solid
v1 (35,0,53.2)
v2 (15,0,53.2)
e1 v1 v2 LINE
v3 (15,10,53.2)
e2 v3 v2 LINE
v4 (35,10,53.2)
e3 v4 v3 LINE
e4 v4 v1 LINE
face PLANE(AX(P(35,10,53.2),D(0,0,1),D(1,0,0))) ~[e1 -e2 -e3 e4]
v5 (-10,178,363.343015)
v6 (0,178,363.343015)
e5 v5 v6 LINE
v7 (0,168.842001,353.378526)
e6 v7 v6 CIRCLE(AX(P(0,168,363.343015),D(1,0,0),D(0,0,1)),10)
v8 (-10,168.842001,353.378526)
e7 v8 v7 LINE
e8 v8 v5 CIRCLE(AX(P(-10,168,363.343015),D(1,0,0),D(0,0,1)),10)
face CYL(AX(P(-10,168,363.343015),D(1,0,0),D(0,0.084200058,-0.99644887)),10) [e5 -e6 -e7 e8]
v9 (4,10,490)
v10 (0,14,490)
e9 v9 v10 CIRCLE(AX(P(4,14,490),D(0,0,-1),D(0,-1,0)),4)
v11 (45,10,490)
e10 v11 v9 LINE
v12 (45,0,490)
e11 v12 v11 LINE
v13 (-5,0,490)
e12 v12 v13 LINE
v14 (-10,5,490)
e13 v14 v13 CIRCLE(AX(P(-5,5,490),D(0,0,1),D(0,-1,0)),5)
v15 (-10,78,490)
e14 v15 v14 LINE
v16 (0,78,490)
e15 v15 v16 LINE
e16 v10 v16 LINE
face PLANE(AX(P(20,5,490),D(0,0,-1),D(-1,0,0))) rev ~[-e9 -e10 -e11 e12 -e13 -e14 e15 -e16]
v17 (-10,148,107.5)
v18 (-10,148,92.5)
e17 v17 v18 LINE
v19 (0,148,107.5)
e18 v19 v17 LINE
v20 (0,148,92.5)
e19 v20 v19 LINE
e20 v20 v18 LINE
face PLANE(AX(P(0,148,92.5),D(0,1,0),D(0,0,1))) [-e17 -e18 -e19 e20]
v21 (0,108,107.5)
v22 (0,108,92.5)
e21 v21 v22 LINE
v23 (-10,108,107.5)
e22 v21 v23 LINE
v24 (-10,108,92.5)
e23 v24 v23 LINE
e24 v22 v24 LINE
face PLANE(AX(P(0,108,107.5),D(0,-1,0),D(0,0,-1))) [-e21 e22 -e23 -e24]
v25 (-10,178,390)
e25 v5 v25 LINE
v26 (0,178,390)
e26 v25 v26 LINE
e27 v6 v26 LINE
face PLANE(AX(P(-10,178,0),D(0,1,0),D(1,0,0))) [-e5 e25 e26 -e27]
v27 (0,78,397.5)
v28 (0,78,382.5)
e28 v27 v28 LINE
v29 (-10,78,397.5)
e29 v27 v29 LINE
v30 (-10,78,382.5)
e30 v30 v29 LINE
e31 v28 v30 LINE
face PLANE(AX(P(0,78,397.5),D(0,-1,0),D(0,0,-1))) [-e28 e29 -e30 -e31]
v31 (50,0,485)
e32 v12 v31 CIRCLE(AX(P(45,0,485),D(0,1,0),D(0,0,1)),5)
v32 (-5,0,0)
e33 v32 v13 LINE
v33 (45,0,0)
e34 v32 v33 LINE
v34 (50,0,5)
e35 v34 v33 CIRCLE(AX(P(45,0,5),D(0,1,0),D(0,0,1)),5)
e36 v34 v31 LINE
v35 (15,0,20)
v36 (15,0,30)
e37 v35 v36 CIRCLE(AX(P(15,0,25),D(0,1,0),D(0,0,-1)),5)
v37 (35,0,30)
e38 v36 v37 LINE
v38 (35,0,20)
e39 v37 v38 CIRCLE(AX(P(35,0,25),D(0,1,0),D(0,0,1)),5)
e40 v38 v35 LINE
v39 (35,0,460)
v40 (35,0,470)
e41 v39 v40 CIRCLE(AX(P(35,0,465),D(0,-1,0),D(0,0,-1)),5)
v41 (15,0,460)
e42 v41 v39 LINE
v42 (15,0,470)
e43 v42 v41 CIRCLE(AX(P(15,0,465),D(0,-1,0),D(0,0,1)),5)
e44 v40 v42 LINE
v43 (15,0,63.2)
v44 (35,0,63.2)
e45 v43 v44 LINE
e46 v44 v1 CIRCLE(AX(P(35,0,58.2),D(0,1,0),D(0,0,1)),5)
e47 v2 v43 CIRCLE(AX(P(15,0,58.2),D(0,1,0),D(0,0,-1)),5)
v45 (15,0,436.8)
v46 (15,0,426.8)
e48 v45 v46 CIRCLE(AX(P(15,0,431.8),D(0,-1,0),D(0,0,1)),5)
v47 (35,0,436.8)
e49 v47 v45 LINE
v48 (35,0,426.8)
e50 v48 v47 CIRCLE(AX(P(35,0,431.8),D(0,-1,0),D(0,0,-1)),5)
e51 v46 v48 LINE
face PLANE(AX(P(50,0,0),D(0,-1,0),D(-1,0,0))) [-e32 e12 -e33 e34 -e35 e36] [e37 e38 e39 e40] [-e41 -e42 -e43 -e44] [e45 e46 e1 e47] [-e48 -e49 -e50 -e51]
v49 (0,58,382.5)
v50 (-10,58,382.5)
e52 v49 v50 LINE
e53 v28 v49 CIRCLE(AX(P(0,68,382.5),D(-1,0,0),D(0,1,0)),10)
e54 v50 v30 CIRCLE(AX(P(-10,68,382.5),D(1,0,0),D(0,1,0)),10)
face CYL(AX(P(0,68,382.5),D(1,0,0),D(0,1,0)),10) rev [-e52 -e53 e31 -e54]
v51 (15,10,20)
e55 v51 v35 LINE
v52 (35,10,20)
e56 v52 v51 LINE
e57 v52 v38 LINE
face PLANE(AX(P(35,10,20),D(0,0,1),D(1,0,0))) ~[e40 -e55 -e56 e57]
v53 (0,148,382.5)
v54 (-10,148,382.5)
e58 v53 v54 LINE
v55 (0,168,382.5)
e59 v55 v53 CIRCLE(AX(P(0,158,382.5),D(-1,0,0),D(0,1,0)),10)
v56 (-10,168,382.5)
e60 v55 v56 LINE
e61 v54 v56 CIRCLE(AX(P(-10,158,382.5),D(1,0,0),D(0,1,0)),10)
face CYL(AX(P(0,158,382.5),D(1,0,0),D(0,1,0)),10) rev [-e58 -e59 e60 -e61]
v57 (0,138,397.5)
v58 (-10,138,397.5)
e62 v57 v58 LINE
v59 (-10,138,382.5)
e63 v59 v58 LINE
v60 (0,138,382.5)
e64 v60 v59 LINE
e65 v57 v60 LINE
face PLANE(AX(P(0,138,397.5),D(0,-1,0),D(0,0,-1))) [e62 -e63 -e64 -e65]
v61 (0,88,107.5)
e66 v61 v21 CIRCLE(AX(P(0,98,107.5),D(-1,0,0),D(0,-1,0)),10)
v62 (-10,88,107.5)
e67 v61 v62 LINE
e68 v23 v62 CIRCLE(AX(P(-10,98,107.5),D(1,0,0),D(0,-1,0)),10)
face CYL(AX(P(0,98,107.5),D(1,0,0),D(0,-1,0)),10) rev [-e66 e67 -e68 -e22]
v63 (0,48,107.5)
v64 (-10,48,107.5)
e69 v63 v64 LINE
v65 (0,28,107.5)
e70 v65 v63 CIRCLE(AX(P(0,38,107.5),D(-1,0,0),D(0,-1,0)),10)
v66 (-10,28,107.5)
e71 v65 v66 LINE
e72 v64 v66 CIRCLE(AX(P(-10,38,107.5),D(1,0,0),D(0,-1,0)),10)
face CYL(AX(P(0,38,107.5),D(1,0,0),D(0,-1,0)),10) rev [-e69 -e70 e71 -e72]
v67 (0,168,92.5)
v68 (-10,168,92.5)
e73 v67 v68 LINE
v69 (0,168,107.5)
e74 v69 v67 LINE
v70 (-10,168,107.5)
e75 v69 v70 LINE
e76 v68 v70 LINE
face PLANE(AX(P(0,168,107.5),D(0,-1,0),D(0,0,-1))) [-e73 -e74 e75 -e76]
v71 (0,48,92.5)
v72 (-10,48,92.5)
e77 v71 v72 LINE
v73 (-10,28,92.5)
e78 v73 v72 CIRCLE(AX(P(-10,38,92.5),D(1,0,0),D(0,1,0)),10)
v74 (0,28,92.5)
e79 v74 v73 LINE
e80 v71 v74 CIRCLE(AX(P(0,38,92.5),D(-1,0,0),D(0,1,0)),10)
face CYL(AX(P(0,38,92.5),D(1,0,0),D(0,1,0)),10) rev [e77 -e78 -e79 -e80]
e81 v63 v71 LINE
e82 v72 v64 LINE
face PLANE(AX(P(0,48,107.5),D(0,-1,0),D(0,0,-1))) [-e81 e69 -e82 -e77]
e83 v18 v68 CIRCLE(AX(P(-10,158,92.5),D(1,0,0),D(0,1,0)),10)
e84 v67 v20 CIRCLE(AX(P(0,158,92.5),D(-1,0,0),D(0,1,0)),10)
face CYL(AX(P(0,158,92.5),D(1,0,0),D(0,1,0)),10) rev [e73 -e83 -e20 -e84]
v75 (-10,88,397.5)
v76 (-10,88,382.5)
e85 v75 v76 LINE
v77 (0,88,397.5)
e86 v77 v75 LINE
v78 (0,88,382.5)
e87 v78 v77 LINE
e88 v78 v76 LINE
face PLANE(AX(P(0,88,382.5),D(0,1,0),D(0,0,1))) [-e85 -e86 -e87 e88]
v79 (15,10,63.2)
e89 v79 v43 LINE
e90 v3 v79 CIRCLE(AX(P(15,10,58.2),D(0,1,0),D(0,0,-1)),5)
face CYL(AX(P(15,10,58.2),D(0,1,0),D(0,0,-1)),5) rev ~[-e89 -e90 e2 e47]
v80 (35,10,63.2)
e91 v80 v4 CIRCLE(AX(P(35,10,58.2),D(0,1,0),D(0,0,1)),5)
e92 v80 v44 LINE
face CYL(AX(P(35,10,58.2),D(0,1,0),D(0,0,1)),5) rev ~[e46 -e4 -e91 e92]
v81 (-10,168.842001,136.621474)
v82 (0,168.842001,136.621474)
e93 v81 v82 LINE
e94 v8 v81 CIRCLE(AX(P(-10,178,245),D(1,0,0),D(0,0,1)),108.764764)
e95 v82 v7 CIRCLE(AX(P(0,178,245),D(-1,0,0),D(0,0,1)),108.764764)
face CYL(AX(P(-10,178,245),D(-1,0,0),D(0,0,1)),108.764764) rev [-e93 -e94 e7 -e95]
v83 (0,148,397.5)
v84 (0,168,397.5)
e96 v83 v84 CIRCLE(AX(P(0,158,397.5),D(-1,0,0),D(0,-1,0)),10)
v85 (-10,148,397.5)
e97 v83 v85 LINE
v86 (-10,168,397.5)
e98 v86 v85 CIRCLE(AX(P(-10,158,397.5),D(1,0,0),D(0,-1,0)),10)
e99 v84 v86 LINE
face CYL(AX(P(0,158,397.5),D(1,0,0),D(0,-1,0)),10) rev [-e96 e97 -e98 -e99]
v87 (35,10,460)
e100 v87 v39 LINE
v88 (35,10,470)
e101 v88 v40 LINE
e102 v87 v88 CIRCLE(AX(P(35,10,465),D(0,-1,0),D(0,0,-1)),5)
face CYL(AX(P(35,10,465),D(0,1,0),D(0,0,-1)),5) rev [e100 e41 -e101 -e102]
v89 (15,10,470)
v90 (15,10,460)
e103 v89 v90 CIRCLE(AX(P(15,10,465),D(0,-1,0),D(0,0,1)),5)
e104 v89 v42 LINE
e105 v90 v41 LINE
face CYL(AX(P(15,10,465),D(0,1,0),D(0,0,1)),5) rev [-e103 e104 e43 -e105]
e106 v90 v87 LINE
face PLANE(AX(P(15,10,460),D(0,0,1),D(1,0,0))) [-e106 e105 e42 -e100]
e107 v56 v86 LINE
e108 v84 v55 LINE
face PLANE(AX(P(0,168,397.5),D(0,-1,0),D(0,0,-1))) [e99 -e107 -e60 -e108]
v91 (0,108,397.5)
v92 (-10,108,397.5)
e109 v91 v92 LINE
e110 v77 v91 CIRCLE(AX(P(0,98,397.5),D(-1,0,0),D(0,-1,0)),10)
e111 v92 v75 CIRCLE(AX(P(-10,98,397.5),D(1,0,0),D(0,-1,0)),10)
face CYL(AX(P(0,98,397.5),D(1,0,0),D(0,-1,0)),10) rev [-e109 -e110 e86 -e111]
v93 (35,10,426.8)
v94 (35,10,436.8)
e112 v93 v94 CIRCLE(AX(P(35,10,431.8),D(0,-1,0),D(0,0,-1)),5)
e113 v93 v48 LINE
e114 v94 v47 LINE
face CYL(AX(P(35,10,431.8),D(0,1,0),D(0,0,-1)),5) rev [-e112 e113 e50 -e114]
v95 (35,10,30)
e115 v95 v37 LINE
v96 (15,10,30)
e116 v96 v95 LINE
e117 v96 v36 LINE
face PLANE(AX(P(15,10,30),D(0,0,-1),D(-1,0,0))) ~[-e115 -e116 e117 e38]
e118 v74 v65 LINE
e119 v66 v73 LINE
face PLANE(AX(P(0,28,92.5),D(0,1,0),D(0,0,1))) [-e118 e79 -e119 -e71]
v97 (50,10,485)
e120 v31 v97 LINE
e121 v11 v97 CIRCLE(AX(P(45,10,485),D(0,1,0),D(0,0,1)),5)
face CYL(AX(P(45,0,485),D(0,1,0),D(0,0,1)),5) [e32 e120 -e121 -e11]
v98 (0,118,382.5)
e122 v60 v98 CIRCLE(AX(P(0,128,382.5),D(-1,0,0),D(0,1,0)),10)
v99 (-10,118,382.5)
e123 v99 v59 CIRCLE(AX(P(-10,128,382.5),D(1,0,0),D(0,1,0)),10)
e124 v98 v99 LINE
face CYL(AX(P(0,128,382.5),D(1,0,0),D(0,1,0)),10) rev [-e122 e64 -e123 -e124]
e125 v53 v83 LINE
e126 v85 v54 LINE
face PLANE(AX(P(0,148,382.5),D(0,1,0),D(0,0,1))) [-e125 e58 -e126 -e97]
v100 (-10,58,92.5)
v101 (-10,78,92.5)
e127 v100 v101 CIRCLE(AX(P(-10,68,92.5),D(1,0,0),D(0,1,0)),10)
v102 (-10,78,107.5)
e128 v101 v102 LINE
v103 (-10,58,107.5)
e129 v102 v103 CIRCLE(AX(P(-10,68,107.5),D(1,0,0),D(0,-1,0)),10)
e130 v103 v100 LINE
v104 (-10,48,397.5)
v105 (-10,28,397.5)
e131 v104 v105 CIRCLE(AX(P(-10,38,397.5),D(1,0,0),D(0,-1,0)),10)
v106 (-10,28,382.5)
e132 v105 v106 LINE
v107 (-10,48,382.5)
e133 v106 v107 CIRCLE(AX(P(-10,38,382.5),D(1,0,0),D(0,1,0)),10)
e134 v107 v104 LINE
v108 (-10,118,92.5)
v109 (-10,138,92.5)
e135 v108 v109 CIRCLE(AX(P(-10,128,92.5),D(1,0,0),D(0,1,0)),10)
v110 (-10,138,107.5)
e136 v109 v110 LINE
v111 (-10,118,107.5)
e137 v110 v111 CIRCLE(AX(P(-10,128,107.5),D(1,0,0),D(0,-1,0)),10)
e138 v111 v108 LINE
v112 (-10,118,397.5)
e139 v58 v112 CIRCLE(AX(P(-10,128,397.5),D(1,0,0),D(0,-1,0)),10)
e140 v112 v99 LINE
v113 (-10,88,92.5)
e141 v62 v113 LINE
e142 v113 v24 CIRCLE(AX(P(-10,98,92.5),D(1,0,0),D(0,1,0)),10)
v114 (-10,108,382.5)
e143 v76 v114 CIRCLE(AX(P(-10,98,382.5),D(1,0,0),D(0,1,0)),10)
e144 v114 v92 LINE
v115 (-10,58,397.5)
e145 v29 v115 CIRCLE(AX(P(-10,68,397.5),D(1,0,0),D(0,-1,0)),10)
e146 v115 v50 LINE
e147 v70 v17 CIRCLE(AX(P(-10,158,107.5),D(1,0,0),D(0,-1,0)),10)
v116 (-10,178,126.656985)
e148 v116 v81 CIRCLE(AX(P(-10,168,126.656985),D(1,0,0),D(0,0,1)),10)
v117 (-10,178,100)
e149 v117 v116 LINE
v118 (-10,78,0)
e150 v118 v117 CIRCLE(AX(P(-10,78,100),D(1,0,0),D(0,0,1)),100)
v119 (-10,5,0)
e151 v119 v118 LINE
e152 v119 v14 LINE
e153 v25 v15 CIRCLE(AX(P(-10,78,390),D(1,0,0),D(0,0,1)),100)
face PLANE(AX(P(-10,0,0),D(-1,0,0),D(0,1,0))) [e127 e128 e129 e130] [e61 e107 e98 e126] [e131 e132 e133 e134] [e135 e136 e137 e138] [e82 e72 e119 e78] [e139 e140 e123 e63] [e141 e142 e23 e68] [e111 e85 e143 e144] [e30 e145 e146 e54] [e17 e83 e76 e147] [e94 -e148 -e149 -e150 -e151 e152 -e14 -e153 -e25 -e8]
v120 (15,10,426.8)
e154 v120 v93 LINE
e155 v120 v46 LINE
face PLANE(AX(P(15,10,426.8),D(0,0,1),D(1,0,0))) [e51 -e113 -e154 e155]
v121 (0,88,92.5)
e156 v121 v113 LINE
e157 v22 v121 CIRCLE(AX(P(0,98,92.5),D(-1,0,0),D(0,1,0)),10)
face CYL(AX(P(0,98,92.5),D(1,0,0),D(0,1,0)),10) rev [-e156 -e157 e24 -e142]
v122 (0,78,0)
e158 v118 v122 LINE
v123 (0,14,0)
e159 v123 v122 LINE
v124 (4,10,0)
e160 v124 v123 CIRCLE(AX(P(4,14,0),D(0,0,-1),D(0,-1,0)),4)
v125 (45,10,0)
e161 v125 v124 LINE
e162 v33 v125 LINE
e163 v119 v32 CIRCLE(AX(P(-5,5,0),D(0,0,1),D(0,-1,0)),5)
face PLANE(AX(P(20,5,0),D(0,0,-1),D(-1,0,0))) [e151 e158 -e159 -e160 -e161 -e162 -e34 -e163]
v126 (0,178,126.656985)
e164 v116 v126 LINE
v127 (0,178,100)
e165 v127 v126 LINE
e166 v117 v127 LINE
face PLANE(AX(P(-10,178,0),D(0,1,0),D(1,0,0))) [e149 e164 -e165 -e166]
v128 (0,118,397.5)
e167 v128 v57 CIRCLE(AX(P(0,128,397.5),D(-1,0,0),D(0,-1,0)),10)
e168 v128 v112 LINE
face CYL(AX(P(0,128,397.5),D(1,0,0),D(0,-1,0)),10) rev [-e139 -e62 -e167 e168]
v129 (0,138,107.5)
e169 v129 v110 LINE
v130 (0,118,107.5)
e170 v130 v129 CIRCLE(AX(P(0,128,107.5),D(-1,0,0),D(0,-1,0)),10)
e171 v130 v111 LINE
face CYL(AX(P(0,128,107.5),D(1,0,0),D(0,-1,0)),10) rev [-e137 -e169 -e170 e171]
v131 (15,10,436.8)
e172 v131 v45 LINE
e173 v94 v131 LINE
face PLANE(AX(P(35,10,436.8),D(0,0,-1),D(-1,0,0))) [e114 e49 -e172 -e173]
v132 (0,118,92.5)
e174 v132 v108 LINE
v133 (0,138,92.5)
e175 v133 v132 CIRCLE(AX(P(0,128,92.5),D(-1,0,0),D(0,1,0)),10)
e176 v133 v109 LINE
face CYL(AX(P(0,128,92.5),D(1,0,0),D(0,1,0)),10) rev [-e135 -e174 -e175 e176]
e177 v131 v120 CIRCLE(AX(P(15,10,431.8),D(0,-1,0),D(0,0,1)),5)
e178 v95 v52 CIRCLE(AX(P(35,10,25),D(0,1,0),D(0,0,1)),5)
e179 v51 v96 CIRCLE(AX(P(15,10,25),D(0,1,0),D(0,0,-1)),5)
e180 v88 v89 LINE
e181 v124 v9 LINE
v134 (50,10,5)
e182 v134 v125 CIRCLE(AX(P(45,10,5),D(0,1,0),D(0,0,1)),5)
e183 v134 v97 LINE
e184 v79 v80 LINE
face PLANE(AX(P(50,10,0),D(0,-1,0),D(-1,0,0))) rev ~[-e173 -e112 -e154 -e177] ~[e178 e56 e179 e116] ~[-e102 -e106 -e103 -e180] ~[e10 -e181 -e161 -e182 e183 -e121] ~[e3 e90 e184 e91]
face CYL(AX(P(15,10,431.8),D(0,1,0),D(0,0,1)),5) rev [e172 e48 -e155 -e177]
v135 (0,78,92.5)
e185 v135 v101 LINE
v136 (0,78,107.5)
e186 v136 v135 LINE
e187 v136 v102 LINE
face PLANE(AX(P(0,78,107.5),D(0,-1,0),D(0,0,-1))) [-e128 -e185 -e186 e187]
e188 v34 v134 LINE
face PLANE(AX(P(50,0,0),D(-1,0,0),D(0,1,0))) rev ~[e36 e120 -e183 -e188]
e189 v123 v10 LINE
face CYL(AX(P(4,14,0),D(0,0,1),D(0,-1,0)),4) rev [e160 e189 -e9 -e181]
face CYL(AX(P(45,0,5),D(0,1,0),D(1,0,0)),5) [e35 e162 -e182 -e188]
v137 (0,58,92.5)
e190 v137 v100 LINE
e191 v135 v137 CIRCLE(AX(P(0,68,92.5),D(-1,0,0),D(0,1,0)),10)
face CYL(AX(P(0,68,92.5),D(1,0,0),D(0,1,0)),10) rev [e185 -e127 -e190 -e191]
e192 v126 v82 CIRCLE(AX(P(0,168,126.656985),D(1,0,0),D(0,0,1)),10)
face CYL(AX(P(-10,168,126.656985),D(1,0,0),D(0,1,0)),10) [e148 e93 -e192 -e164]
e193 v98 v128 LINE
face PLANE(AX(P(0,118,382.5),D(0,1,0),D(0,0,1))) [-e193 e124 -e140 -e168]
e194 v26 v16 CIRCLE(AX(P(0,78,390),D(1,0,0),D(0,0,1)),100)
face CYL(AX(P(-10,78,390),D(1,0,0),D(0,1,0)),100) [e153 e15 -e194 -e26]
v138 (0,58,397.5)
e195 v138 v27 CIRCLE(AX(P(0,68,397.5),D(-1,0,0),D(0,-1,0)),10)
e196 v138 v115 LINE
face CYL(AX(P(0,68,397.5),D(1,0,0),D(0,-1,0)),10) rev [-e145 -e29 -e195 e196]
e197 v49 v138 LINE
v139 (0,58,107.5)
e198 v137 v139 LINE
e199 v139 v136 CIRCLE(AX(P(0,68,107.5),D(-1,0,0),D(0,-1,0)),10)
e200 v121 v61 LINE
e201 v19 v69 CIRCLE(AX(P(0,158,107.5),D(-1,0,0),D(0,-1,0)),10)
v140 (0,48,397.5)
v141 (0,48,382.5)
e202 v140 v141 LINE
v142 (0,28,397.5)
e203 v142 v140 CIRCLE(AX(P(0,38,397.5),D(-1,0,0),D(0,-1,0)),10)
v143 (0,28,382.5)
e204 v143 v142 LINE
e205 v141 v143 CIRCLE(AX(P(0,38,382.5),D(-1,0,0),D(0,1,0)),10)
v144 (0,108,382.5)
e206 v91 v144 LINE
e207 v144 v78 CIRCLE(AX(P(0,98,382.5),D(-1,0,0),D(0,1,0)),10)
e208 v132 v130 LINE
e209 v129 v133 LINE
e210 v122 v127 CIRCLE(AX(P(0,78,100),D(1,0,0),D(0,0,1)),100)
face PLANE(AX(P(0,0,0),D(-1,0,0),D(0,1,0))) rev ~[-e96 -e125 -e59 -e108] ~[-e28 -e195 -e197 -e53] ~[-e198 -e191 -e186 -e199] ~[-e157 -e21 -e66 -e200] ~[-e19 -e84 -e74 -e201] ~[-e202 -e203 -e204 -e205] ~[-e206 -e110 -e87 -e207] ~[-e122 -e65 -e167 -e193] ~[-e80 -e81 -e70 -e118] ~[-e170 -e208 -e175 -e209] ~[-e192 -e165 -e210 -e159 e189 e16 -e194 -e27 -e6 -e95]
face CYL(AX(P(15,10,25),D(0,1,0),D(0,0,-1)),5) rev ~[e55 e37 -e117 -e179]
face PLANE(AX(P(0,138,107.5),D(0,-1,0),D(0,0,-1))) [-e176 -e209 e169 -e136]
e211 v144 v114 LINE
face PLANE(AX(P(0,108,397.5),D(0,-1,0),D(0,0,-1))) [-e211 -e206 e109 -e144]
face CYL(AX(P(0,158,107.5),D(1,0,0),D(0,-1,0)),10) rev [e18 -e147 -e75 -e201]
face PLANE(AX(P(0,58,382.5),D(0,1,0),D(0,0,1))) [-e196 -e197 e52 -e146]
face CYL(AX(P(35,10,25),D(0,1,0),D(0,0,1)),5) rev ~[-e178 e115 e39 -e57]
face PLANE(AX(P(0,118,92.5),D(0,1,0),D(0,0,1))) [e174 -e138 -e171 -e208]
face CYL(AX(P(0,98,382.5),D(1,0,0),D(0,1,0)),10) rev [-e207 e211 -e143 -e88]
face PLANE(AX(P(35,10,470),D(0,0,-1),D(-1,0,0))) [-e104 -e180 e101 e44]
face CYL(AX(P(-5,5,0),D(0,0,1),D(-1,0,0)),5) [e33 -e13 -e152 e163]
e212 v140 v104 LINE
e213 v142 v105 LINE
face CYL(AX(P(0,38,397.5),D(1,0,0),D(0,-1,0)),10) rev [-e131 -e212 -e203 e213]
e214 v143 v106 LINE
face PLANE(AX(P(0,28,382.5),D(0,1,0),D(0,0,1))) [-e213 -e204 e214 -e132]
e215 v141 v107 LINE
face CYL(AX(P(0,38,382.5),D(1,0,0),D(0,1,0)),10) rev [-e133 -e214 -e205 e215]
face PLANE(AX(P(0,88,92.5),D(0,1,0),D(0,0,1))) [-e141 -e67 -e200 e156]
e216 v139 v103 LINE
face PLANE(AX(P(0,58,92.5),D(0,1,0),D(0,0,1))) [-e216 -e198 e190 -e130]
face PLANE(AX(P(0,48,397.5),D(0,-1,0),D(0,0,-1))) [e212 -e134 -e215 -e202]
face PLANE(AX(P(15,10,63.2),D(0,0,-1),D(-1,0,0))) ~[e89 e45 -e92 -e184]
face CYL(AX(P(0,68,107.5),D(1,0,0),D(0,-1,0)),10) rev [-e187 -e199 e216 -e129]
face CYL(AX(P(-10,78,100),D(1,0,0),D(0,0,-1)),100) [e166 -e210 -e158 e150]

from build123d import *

# Parameters (mm, degrees)
SZKIC1_W                    = 10
SZKIC1_H                    = 178
DODANIE_WYCI_GNI_CIE1_DEPTH = 490
WYTNIJ_WYCI_GNI_CIE1_DEPTH  = 522.424970633
WYTNIJ_WYCI_GNI_CIE2_DEPTH  = 522.424970633
ZAOKR_GLENIE1_R             = 100
ZAOKR_GLENIE2_R             = 100
WYTNIJ_WYCI_GNI_CIE3_DEPTH  = 522.424970633
ZAOKR_GLENIE3_R             = 10
SZKIC6_W                    = 60
SZKIC6_H                    = 10
DODANIE_WYCI_GNI_CIE2_DEPTH = 490
ZAOKR_GLENIE4_R             = 5
ZAOKR_GLENIE5_R             = 4
ZAOKR_GLENIE6_R             = 5
WYTNIJ_WYCI_GNI_CIE4_DEPTH  = 10
WYTNIJ_WYCI_GNI_CIE5_DEPTH  = 10


with BuildPart() as part:
    # Szkic1 → Dodanie-wyciągnięcie1 (new body)
    with BuildSketch(Plane.XY):
        with Locations((-5, 89)):
            Rectangle(SZKIC1_W, SZKIC1_H)
    extrude(amount=DODANIE_WYCI_GNI_CIE1_DEPTH)

    # Szkic2 → Wytnij-wyciągnięcie1 (cut, through all)
    with BuildSketch(Plane(origin=(0, 0, 0), x_dir=(0, 0, -1), z_dir=(1, 0, 0))):
        with BuildLine():
            Line((-107.5, 168), (-92.5, 168))
            ThreePointArc((-92.5, 168), (-82.5, 158), (-92.5, 148))
            Line((-92.5, 148), (-107.5, 148))
            ThreePointArc((-107.5, 148), (-117.5, 158), (-107.5, 168))
        make_face()
        with BuildLine():
            Line((-107.5, 138), (-92.5, 138))
            ThreePointArc((-92.5, 138), (-82.5, 128), (-92.5, 118))
            Line((-92.5, 118), (-107.5, 118))
            ThreePointArc((-107.5, 118), (-117.5, 128), (-107.5, 138))
        make_face()
        with BuildLine():
            Line((-107.5, 108), (-92.5, 108))
            ThreePointArc((-92.5, 108), (-82.5, 98), (-92.5, 88))
            Line((-92.5, 88), (-107.5, 88))
            ThreePointArc((-107.5, 88), (-117.5, 98), (-107.5, 108))
        make_face()
        with BuildLine():
            Line((-107.5, 78), (-92.5, 78))
            ThreePointArc((-92.5, 78), (-82.5, 68), (-92.5, 58))
            Line((-92.5, 58), (-107.5, 58))
            ThreePointArc((-107.5, 58), (-117.5, 68), (-107.5, 78))
        make_face()
        with BuildLine():
            Line((-107.5, 48), (-92.5, 48))
            ThreePointArc((-92.5, 48), (-82.5, 38), (-92.5, 28))
            Line((-92.5, 28), (-107.5, 28))
            ThreePointArc((-107.5, 28), (-117.5, 38), (-107.5, 48))
        make_face()
    extrude(amount=-WYTNIJ_WYCI_GNI_CIE1_DEPTH, mode=Mode.SUBTRACT)

    # Szkic3 → Wytnij-wyciągnięcie2 (cut, through all)
    with BuildSketch(Plane(origin=(0, 0, 0), x_dir=(0, 0, -1), z_dir=(1, 0, 0))):
        with BuildLine():
            Line((-397.5, 168), (-382.5, 168))
            ThreePointArc((-382.5, 168), (-372.5, 158), (-382.5, 148))
            Line((-382.5, 148), (-397.5, 148))
            ThreePointArc((-397.5, 148), (-407.5, 158), (-397.5, 168))
        make_face()
        with BuildLine():
            Line((-397.5, 138), (-382.5, 138))
            ThreePointArc((-382.5, 138), (-372.5, 128), (-382.5, 118))
            Line((-382.5, 118), (-397.5, 118))
            ThreePointArc((-397.5, 118), (-407.5, 128), (-397.5, 138))
        make_face()
        with BuildLine():
            Line((-397.5, 108), (-382.5, 108))
            ThreePointArc((-382.5, 108), (-372.5, 98), (-382.5, 88))
            Line((-382.5, 88), (-397.5, 88))
            ThreePointArc((-397.5, 88), (-407.5, 98), (-397.5, 108))
        make_face()
        with BuildLine():
            Line((-397.5, 78), (-382.5, 78))
            ThreePointArc((-382.5, 78), (-372.5, 68), (-382.5, 58))
            Line((-382.5, 58), (-397.5, 58))
            ThreePointArc((-397.5, 58), (-407.5, 68), (-397.5, 78))
        make_face()
        with BuildLine():
            Line((-397.5, 48), (-382.5, 48))
            ThreePointArc((-382.5, 48), (-372.5, 38), (-382.5, 28))
            Line((-382.5, 28), (-397.5, 28))
            ThreePointArc((-397.5, 28), (-407.5, 38), (-397.5, 48))
        make_face()
    extrude(amount=-WYTNIJ_WYCI_GNI_CIE2_DEPTH, mode=Mode.SUBTRACT)

    # Zaokrąglenie1
    zaokr_glenie1_edges = [part.edges().sort_by_distance(p)[0] for p in [
        (-5, 178, 0),
    ]]
    fillet(zaokr_glenie1_edges, radius=ZAOKR_GLENIE1_R)

    # Zaokrąglenie2
    zaokr_glenie2_edges = [part.edges().sort_by_distance(p)[0] for p in [
        (-5, 178, 490),
    ]]
    fillet(zaokr_glenie2_edges, radius=ZAOKR_GLENIE2_R)

    # Szkic5 → Wytnij-wyciągnięcie3 (cut, through all)
    with BuildSketch(Plane.ZY.offset(10)):
        with BuildLine():
            Line((136.235236097, 178), (353.764763903, 178))
            ThreePointArc((353.764763903, 178), (245, 69.235236097), (136.235236097, 178))
        make_face()
    extrude(amount=-WYTNIJ_WYCI_GNI_CIE3_DEPTH, mode=Mode.SUBTRACT)

    # Zaokrąglenie3
    zaokr_glenie3_edges = [part.edges().sort_by_distance(p)[0] for p in [
        (-5, 178, 353.764763903),
        (-5, 178, 136.235236097),
    ]]
    fillet(zaokr_glenie3_edges, radius=ZAOKR_GLENIE3_R)

    # Szkic6 → Dodanie-wyciągnięcie2 (add, through all)
    with BuildSketch(Plane(origin=(0, 0, 0), x_dir=(-1, 0, 0), z_dir=(0, 0, -1))):
        with Locations((-20, 5)):
            Rectangle(SZKIC6_W, SZKIC6_H)
    extrude(amount=-DODANIE_WYCI_GNI_CIE2_DEPTH)

    # Zaokrąglenie4
    zaokr_glenie4_edges = [part.edges().sort_by_distance(p)[0] for p in [
        (-10, 0, 245),
    ]]
    fillet(zaokr_glenie4_edges, radius=ZAOKR_GLENIE4_R)

    # Zaokrąglenie5
    zaokr_glenie5_edges = [part.edges().sort_by_distance(p)[0] for p in [
        (0, 10, 245),
    ]]
    fillet(zaokr_glenie5_edges, radius=ZAOKR_GLENIE5_R)

    # Zaokrąglenie6
    zaokr_glenie6_edges = [part.edges().sort_by_distance(p)[0] for p in [
        (50, 5, 0),
        (50, 5, 490),
    ]]
    fillet(zaokr_glenie6_edges, radius=ZAOKR_GLENIE6_R)

    # Szkic7 → Wytnij-wyciągnięcie4 (cut)
    with BuildSketch(Plane(origin=(0, 10, 0), x_dir=(1, 0, 0), z_dir=(0, 1, 0))):
        with BuildLine():
            Line((35, -470), (15, -470))
            ThreePointArc((15, -470), (10, -465), (15, -460))
            Line((15, -460), (35, -460))
            ThreePointArc((35, -460), (40, -465), (35, -470))
        make_face()
    wytnij_wyci_gni_cie4 = extrude(amount=-WYTNIJ_WYCI_GNI_CIE4_DEPTH, mode=Mode.SUBTRACT)

    # Lustro2: Wytnij-wyciągnięcie4 across plane
    add(wytnij_wyci_gni_cie4.mirror(Plane(origin=(0, 0, 245), x_dir=(1, 0, 0), z_dir=(0, 0, -1))), mode=Mode.SUBTRACT)

    # Szkic8 → Wytnij-wyciągnięcie5 (cut)
    with BuildSketch(Plane(origin=(0, 10, 0), x_dir=(1, 0, 0), z_dir=(0, 1, 0))):
        with BuildLine():
            Line((15, -426.8), (35, -426.8))
            ThreePointArc((35, -426.8), (40, -431.8), (35, -436.8))
            Line((35, -436.8), (15, -436.8))
            ThreePointArc((15, -436.8), (10, -431.8), (15, -426.8))
        make_face()
    wytnij_wyci_gni_cie5 = extrude(amount=-WYTNIJ_WYCI_GNI_CIE5_DEPTH, mode=Mode.SUBTRACT)

    # Lustro3: Wytnij-wyciągnięcie5 across plane
    add(wytnij_wyci_gni_cie5.mirror(Plane(origin=(0, 0, 245), x_dir=(1, 0, 0), z_dir=(0, 0, -1))), mode=Mode.SUBTRACT)


solid = part.part
